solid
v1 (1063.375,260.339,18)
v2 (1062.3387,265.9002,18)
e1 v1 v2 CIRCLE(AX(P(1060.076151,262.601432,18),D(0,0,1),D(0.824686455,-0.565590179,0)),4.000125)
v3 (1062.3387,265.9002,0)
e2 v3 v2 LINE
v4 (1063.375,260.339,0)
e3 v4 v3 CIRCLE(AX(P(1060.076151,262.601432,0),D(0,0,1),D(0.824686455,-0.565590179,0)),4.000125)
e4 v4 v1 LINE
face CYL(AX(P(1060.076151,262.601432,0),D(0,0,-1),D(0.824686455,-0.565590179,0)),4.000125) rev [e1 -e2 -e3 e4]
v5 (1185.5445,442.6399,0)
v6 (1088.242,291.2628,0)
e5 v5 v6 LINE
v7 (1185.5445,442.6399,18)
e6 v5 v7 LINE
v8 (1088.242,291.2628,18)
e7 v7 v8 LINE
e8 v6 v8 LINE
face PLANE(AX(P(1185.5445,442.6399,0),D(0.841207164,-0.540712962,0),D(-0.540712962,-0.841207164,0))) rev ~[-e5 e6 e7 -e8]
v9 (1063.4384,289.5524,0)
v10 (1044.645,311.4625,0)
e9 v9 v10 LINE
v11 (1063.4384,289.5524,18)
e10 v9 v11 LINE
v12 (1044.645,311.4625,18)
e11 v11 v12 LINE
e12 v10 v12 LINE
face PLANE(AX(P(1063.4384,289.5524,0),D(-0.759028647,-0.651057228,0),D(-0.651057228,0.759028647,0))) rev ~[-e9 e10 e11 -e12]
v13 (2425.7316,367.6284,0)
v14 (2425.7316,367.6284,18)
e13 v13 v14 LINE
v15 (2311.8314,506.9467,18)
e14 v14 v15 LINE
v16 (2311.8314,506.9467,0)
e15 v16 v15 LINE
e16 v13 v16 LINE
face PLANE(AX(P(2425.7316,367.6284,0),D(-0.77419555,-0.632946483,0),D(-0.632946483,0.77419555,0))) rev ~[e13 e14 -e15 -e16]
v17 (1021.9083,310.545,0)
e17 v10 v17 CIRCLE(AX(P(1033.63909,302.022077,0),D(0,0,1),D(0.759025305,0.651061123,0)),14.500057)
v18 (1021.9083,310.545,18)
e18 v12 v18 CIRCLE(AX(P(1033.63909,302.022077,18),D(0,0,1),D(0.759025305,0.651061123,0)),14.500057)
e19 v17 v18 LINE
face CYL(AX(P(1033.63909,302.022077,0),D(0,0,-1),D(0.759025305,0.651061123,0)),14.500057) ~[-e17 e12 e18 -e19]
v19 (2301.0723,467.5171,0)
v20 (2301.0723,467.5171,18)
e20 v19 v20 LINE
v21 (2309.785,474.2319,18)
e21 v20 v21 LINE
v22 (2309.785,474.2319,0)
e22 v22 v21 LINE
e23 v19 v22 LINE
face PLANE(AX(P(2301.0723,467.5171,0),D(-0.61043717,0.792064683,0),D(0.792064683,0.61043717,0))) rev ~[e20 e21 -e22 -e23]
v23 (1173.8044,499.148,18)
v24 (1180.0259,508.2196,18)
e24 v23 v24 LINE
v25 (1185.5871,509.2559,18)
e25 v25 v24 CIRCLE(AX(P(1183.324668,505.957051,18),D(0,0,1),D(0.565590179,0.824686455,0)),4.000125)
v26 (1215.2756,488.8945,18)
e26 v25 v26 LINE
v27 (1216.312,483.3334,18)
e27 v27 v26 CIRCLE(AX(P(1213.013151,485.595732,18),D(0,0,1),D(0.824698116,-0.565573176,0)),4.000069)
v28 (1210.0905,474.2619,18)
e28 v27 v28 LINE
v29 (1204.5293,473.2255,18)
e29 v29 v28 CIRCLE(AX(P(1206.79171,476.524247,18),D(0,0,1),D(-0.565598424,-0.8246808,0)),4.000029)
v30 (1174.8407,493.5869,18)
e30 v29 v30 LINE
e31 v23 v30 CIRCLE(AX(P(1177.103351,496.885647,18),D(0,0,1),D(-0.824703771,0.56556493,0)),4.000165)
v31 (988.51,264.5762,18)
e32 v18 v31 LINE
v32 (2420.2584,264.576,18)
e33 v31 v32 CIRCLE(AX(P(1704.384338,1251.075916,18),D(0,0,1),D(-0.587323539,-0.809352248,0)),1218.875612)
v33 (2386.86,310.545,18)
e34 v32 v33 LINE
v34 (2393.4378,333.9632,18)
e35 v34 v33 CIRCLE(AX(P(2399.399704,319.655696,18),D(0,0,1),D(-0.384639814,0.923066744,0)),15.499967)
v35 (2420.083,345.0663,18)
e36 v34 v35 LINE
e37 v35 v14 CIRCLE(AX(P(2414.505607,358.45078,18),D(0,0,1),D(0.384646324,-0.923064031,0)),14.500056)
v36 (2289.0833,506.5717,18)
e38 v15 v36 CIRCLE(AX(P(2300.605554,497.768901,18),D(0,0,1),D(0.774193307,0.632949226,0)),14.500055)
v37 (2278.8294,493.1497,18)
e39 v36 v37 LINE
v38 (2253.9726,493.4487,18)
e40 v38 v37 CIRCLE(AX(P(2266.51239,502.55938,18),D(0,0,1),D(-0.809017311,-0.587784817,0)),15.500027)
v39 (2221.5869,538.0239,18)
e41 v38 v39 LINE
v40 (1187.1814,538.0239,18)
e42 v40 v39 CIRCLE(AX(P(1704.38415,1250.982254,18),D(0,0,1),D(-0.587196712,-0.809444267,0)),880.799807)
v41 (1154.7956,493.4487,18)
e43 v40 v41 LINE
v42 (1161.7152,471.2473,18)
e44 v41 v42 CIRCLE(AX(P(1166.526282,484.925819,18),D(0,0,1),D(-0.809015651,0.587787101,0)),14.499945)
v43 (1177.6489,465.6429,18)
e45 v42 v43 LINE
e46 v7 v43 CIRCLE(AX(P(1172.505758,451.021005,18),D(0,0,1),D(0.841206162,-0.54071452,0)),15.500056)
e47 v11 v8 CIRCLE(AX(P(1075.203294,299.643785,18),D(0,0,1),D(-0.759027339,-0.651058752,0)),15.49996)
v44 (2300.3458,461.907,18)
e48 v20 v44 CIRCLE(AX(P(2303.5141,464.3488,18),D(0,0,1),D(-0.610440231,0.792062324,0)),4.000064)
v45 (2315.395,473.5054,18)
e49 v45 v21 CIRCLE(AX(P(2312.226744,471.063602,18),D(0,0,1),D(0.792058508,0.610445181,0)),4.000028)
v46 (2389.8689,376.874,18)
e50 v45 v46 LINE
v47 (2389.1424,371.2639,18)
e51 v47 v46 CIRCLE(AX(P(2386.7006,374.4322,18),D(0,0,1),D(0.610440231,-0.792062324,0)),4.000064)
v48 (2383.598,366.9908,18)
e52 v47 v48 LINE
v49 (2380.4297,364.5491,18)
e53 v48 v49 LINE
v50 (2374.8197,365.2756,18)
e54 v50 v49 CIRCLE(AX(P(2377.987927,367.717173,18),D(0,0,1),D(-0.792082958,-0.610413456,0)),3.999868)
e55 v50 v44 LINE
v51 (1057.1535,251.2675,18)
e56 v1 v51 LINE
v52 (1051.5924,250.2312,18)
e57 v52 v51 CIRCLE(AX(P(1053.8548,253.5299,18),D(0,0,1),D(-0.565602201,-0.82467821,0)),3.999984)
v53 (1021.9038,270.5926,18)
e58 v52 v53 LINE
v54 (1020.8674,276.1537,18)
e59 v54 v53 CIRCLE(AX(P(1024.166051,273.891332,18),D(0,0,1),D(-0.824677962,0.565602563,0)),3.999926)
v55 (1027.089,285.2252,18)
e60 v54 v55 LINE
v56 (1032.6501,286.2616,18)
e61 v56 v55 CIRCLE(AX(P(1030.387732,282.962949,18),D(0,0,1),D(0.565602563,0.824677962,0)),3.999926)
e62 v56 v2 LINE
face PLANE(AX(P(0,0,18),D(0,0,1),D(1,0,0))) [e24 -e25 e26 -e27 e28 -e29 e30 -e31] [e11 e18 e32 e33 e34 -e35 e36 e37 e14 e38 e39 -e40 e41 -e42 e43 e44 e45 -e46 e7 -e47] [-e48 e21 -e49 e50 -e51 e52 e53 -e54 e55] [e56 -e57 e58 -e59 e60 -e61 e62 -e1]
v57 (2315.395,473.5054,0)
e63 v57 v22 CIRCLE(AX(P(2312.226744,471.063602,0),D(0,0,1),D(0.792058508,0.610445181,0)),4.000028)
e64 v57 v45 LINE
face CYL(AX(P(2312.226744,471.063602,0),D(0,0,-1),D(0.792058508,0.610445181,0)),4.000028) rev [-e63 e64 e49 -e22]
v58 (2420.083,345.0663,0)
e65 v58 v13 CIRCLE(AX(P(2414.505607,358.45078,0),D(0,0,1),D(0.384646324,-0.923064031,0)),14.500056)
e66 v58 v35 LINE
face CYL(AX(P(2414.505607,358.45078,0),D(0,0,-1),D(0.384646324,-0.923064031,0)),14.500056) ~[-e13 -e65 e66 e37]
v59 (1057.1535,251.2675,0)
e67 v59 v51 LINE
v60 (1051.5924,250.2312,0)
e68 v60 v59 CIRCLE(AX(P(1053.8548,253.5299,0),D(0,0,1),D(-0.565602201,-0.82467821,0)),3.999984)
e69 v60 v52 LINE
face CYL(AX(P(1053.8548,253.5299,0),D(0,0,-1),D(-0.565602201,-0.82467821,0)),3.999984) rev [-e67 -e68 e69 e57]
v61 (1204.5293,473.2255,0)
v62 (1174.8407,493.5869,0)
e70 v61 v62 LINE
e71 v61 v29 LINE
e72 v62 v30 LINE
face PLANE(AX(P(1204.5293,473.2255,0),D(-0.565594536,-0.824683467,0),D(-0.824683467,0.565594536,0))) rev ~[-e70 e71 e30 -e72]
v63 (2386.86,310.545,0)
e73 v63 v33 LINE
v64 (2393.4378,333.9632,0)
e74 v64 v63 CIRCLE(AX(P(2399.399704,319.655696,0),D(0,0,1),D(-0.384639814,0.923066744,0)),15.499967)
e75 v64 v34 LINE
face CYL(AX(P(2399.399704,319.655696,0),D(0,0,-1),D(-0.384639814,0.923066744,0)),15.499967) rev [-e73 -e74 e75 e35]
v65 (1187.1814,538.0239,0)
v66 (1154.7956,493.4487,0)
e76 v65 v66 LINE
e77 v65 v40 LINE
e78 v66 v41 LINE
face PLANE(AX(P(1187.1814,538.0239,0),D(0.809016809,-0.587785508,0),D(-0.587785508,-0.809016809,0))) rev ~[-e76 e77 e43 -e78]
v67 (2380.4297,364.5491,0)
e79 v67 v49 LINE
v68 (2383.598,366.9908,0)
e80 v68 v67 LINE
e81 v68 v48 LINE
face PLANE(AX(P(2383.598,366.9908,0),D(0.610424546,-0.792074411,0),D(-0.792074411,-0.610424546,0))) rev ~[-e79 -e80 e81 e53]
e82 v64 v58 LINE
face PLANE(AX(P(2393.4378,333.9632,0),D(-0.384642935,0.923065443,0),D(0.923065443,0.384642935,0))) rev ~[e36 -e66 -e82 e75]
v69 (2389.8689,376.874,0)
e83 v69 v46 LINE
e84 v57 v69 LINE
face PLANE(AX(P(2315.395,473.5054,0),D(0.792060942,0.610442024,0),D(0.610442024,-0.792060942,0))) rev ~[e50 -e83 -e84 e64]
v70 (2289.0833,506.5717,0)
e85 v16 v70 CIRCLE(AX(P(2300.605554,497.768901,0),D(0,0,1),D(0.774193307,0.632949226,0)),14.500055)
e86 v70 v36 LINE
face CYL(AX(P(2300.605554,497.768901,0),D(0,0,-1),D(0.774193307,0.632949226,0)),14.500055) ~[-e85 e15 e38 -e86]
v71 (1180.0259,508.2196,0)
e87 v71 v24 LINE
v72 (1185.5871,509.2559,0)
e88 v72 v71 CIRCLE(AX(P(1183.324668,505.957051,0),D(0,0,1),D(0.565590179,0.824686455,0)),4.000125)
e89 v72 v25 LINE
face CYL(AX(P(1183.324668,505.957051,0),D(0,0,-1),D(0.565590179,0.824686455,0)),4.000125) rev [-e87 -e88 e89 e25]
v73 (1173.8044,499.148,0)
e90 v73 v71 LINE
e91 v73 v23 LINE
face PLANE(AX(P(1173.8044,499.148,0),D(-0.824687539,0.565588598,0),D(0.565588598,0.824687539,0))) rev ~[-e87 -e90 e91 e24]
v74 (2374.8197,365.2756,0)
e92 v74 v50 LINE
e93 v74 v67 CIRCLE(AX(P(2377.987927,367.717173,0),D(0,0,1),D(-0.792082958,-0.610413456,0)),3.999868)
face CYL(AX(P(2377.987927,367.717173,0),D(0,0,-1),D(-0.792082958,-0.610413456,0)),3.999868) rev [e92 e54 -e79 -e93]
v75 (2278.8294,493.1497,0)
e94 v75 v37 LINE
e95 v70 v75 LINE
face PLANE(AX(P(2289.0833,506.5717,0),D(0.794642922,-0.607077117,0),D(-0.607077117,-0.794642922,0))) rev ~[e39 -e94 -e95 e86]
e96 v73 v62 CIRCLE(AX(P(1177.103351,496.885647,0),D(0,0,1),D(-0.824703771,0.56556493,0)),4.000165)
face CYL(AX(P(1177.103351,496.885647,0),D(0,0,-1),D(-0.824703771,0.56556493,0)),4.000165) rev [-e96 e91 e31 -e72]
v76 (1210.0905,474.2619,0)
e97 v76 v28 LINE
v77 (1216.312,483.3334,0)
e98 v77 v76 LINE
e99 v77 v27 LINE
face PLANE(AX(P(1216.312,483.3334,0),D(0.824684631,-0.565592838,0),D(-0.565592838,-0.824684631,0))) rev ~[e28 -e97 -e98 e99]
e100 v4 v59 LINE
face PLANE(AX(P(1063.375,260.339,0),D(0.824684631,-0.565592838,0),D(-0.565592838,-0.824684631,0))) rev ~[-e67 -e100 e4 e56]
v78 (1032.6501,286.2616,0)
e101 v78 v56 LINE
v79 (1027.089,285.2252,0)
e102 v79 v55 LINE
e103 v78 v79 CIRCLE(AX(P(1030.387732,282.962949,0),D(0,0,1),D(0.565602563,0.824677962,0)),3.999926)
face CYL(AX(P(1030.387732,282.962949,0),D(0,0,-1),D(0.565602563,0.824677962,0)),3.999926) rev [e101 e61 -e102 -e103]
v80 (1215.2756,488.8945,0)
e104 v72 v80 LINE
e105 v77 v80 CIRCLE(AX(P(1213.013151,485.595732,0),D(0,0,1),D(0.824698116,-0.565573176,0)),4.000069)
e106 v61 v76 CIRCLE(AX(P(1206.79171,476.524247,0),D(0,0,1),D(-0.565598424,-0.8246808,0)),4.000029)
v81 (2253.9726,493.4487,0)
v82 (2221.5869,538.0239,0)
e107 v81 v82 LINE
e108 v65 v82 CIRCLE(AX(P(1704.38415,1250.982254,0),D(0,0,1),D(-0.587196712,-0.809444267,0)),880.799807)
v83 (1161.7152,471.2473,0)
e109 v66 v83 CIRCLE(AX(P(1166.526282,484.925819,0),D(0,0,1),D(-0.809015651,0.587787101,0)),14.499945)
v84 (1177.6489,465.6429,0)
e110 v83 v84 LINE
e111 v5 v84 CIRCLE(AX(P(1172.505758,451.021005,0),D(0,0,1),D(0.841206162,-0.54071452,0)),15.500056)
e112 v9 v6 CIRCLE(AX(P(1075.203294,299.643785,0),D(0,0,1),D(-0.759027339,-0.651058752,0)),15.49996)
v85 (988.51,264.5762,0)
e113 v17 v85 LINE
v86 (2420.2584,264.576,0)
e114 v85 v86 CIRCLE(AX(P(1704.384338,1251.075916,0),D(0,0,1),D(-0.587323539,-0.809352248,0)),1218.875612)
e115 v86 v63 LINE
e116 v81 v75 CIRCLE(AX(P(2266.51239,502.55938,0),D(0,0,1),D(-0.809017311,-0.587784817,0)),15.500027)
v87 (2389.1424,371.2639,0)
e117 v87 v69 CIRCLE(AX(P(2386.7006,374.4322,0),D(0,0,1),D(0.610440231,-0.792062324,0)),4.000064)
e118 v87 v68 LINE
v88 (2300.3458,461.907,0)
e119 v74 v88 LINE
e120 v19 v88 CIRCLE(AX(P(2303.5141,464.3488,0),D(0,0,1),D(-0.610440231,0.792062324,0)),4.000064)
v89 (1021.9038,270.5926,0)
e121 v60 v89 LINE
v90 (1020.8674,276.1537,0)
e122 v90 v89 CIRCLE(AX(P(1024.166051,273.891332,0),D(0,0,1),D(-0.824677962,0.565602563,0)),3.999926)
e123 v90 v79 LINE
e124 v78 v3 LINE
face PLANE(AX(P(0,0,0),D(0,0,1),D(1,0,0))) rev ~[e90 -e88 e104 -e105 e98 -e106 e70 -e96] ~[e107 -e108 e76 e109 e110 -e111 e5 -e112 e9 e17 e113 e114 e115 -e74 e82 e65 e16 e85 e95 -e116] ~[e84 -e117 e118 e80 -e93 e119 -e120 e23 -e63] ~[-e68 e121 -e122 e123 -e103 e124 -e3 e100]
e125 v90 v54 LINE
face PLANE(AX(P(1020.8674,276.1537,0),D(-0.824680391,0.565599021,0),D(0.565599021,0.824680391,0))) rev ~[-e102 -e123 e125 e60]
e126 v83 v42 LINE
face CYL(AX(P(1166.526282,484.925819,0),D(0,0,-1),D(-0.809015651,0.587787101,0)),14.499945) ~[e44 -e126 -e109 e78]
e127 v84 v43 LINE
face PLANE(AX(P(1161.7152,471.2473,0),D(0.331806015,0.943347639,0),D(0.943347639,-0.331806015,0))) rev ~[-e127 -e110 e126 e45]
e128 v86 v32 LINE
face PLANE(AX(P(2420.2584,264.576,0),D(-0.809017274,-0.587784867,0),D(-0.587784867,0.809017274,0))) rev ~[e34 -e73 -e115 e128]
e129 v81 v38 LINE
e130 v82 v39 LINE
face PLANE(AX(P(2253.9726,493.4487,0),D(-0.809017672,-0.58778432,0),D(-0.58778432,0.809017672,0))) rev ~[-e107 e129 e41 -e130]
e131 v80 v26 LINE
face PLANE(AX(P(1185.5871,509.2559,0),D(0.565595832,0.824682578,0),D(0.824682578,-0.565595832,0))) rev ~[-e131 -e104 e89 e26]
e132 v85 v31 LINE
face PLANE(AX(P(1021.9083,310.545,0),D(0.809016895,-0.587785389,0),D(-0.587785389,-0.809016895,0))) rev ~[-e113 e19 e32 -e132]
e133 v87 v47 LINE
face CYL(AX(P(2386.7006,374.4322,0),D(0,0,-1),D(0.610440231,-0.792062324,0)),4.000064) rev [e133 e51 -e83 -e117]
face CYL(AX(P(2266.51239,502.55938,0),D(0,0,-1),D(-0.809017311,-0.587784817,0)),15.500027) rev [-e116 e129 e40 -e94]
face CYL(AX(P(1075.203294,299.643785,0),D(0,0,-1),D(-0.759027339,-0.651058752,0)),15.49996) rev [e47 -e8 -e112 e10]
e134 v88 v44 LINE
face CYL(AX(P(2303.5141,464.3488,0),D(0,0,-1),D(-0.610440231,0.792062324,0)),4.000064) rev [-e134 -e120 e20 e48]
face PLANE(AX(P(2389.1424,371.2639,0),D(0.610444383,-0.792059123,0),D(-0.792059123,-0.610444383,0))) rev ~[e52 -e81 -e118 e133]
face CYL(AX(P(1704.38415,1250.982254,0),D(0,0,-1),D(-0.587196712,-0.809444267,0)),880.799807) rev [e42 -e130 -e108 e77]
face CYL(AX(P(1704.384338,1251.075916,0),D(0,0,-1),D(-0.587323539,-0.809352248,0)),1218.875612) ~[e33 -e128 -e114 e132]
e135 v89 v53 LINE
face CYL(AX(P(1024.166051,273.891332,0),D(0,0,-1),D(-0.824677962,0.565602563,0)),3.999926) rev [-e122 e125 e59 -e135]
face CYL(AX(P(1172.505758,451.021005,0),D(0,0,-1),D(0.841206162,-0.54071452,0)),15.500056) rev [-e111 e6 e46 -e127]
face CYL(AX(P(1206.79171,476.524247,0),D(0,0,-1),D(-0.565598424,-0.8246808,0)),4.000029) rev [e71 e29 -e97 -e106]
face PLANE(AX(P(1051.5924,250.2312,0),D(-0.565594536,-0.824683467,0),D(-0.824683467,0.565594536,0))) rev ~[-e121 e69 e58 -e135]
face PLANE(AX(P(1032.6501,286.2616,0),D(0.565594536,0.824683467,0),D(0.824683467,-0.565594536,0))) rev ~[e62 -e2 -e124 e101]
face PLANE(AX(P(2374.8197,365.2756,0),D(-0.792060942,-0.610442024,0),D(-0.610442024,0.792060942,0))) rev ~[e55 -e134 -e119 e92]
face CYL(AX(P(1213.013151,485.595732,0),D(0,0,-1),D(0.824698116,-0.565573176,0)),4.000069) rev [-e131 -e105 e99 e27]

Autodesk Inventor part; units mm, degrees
ref_plane "YZ Plane" through (0, 0, 0) normal (1, 0, 0) x (0, 1, 0)
ref_plane "XZ Plane" through (0, 0, 0) normal (0, 1, 0) x (-1, 0, 0)
ref_plane "XY Plane" through (0, 0, 0) normal (0, 0, 1) x (1, 0, 0)
sketch "CONTOURS" plane through (0, 0, 0) normal (0, 0, 1) x (1, 0, 0)
  line L0 (1187.1814, 538.0239) -> (1154.7956, 493.4487)
  arc A0 (1154.7956, 493.4487) -> (1161.7152, 471.2473) centre (1166.5264, 484.9258) ccw
  line L1 (1161.7152, 471.2473) -> (1177.6489, 465.6429)
  arc A1 (1185.5445, 442.6399) -> (1177.6489, 465.6429) centre (1172.5058, 451.021) ccw
  line L2 (1185.5445, 442.6399) -> (1088.242, 291.2628)
  arc A2 (1063.4384, 289.5524) -> (1088.242, 291.2628) centre (1075.2033, 299.6438) ccw
  line L3 (1063.4384, 289.5524) -> (1044.645, 311.4625)
  arc A3 (1044.645, 311.4625) -> (1021.9083, 310.545) centre (1033.6391, 302.0221) ccw
  line L4 (1021.9083, 310.545) -> (988.51, 264.5762)
  arc A4 (988.51, 264.5762) -> (2420.2584, 264.576) centre (1704.3843, 1251.0758) ccw
  line L5 (2420.2584, 264.576) -> (2386.86, 310.545)
  arc A5 (2393.4378, 333.9632) -> (2386.86, 310.545) centre (2399.3997, 319.6557) ccw
  line L6 (2393.4378, 333.9632) -> (2420.083, 345.0663)
  arc A6 (2420.083, 345.0663) -> (2425.7316, 367.6284) centre (2414.5057, 358.4507) ccw
  line L7 (2425.7316, 367.6284) -> (2311.8314, 506.9467)
  arc A7 (2311.8314, 506.9467) -> (2289.0833, 506.5717) centre (2300.6056, 497.769) ccw
  line L8 (2289.0833, 506.5717) -> (2278.8294, 493.1497)
  arc A8 (2253.9726, 493.4487) -> (2278.8294, 493.1497) centre (2266.5124, 502.5594) ccw
  line L9 (2253.9726, 493.4487) -> (2221.5869, 538.0239)
  arc A9 (1187.1814, 538.0239) -> (2221.5869, 538.0239) centre (1704.3841, 1250.9821) ccw
sketch "HOLES" plane through (0, 0, 0) normal (0, 0, 1) x (1, 0, 0)
  arc A0 (1185.5871, 509.2559) -> (1180.0259, 508.2196) centre (1183.3247, 505.9572) ccw
  line L0 (1185.5871, 509.2559) -> (1215.2756, 488.8945)
  arc A1 (1216.312, 483.3334) -> (1215.2756, 488.8945) centre (1213.0133, 485.5957) ccw
  line L1 (1216.312, 483.3334) -> (1210.0905, 474.2619)
  arc A2 (1204.5293, 473.2255) -> (1210.0905, 474.2619) centre (1206.7917, 476.5242) ccw
  line L2 (1204.5293, 473.2255) -> (1174.8407, 493.5869)
  arc A3 (1173.8044, 499.148) -> (1174.8407, 493.5869) centre (1177.1031, 496.8857) ccw
  line L3 (2383.598, 366.9908) -> (2380.4297, 364.5491)
  arc A4 (2374.8197, 365.2756) -> (2380.4297, 364.5491) centre (2377.988, 367.7173) ccw
  line L4 (2374.8197, 365.2756) -> (2300.3458, 461.907)
  arc A5 (2301.0723, 467.5171) -> (2300.3458, 461.907) centre (2303.5141, 464.3488) ccw
  line L5 (2301.0723, 467.5171) -> (2309.785, 474.2319)
  arc A6 (2315.395, 473.5054) -> (2309.785, 474.2319) centre (2312.2268, 471.0637) ccw
  line L6 (2315.395, 473.5054) -> (2389.8689, 376.874)
  arc A7 (2389.1424, 371.2639) -> (2389.8689, 376.874) centre (2386.7006, 374.4322) ccw
  line L7 (2389.1424, 371.2639) -> (2383.598, 366.9908)
  line L8 (1063.375, 260.339) -> (1057.1535, 251.2675)
  arc A8 (1051.5924, 250.2312) -> (1057.1535, 251.2675) centre (1053.8548, 253.5299) ccw
  line L9 (1051.5924, 250.2312) -> (1021.9038, 270.5926)
  arc A9 (1020.8674, 276.1537) -> (1021.9038, 270.5926) centre (1024.1662, 273.8913) ccw
  line L10 (1020.8674, 276.1537) -> (1027.089, 285.2252)
  arc A10 (1032.6501, 286.2616) -> (1027.089, 285.2252) centre (1030.3877, 282.9628) ccw
  line L11 (1032.6501, 286.2616) -> (1062.3387, 265.9002)
  arc A11 (1063.375, 260.339) -> (1062.3387, 265.9002) centre (1060.0763, 262.6014) ccw
  line L12 (1173.8044, 499.148) -> (1180.0259, 508.2196)
sketch "LETTERS" plane through (0, 0, 0) normal (0, 0, 1) x (1, 0, 0)
  line L0 (1208.7696, 324.759) -> (1209.0033, 324.7372)
  line L1 (1209.0033, 324.7372) -> (1209.2368, 324.7098)
  line L2 (1209.2368, 324.7098) -> (1209.4699, 324.6767)
  line L3 (1209.4699, 324.6767) -> (1209.7026, 324.638)
  line L4 (1209.7026, 324.638) -> (1209.9347, 324.5939)
  line L5 (1209.9347, 324.5939) -> (1210.166, 324.5444)
  line L6 (1210.166, 324.5444) -> (1210.3965, 324.4896)
  line L7 (1210.3965, 324.4896) -> (1210.6261, 324.4296)
  line L8 (1210.6261, 324.4296) -> (1210.8547, 324.3644)
  line L9 (1210.8547, 324.3644) -> (1211.082, 324.294)
  line L10 (1211.082, 324.294) -> (1211.3081, 324.2187)
  line L11 (1211.3081, 324.2187) -> (1211.5327, 324.1384)
  line L12 (1211.5327, 324.1384) -> (1211.7559, 324.0533)
  line L13 (1211.7559, 324.0533) -> (1211.9774, 323.9634)
  line L14 (1211.9774, 323.9634) -> (1212.1971, 323.8687)
  line L15 (1212.1971, 323.8687) -> (1212.415, 323.7694)
  line L16 (1212.415, 323.7694) -> (1212.6308, 323.6655)
  line L17 (1212.6308, 323.6655) -> (1212.8446, 323.5572)
  line L18 (1212.8446, 323.5572) -> (1213.0562, 323.4444)
  line L19 (1213.0562, 323.4444) -> (1213.2655, 323.3273)
  line L20 (1213.2655, 323.3273) -> (1213.4724, 323.2058)
  line L21 (1213.4724, 323.2058) -> (1213.6769, 323.0802)
  line L22 (1213.6769, 323.0802) -> (1213.8789, 322.9504)
  line L23 (1213.8789, 322.9504) -> (1214.0783, 322.8166)
  line L24 (1214.0783, 322.8166) -> (1214.275, 322.6787)
  line L25 (1214.275, 322.6787) -> (1214.469, 322.5369)
  line L26 (1214.469, 322.5369) -> (1214.6601, 322.3913)
  line L27 (1214.6601, 322.3913) -> (1214.8483, 322.2419)
  line L28 (1214.8483, 322.2419) -> (1215.0335, 322.0887)
  line L29 (1215.0335, 322.0887) -> (1215.2156, 321.9319)
  line L30 (1215.2156, 321.9319) -> (1215.3946, 321.7715)
  line L31 (1215.3946, 321.7715) -> (1215.5703, 321.6076)
  line L32 (1215.5703, 321.6076) -> (1215.7426, 321.4402)
  line L33 (1215.7426, 321.4402) -> (1215.9116, 321.2695)
  line L34 (1215.9116, 321.2695) -> (1216.0771, 321.0955)
  line L35 (1216.0771, 321.0955) -> (1216.2389, 320.9182)
  line L36 (1216.2389, 320.9182) -> (1216.3972, 320.7378)
  line L37 (1216.3972, 320.7378) -> (1216.5517, 320.5543)
  line L38 (1216.5517, 320.5543) -> (1216.7024, 320.3678)
  line L39 (1216.7024, 320.3678) -> (1216.8491, 320.1783)
  line L40 (1216.8491, 320.1783) -> (1216.9919, 319.9859)
  line L41 (1216.9919, 319.9859) -> (1217.1307, 319.7908)
  line L42 (1217.1307, 319.7908) -> (1217.2653, 319.5929)
  line L43 (1217.2653, 319.5929) -> (1217.3956, 319.3923)
  line L44 (1217.3956, 319.3923) -> (1217.5217, 319.1891)
  line L45 (1217.5217, 319.1891) -> (1217.6434, 318.9834)
  line L46 (1217.6434, 318.9834) -> (1217.7606, 318.7752)
  line L47 (1217.7606, 318.7752) -> (1217.8733, 318.5647)
  line L48 (1217.8733, 318.5647) -> (1217.9813, 318.3518)
  line L49 (1217.9813, 318.3518) -> (1218.0846, 318.1367)
  line L50 (1218.0846, 318.1367) -> (1218.1832, 317.9195)
  line L51 (1218.1832, 317.9195) -> (1218.2769, 317.7002)
  line L52 (1218.2769, 317.7002) -> (1218.3657, 317.4791)
  line L53 (1218.3657, 317.4791) -> (1218.4496, 317.2562)
  line L54 (1218.4496, 317.2562) -> (1218.5286, 317.0317)
  line L55 (1218.5286, 317.0317) -> (1218.6024, 316.8056)
  line L56 (1218.6024, 316.8056) -> (1218.6712, 316.5781)
  line L57 (1218.6712, 316.5781) -> (1218.7348, 316.3494)
  line L58 (1218.7348, 316.3494) -> (1218.7932, 316.1195)
  line L59 (1218.7932, 316.1195) -> (1218.8464, 315.8885)
  line L60 (1218.8464, 315.8885) -> (1218.8942, 315.6566)
  line L61 (1218.8942, 315.6566) -> (1218.9366, 315.424)
  line L62 (1218.9366, 315.424) -> (1218.9736, 315.1906)
  line L63 (1218.9736, 315.1906) -> (1219.0051, 314.9567)
  line L64 (1219.0051, 314.9567) -> (1219.031, 314.7224)
  line L65 (1219.031, 314.7224) -> (1219.0514, 314.4877)
  line L66 (1219.0514, 314.4877) -> (1219.0661, 314.2529)
  line L67 (1219.0661, 314.2529) -> (1219.0751, 314.0179)
  line L68 (1219.0751, 314.0179) -> (1219.0783, 313.783)
  line L69 (1219.0783, 313.783) -> (1219.0757, 313.5483)
  line L70 (1219.0757, 313.5483) -> (1219.0672, 313.3139)
  line L71 (1219.0672, 313.3139) -> (1219.0528, 313.0799)
  line L72 (1219.0528, 313.0799) -> (1219.0324, 312.8464)
  line L73 (1219.0324, 312.8464) -> (1219.0059, 312.6136)
  line L74 (1219.0059, 312.6136) -> (1218.9733, 312.3815)
  line L75 (1218.9733, 312.3815) -> (1218.9346, 312.1503)
  line L76 (1218.9346, 312.1503) -> (1218.8897, 311.9202)
  line L77 (1218.8897, 311.9202) -> (1218.8385, 311.6911)
  line L78 (1218.8385, 311.6911) -> (1218.7809, 311.4634)
  line L79 (1218.7809, 311.4634) -> (1218.717, 311.237)
  line L80 (1218.717, 311.237) -> (1218.6466, 311.0121)
  line L81 (1218.6466, 311.0121) -> (1218.5698, 310.7888)
  line L82 (1218.5698, 310.7888) -> (1218.4866, 310.5673)
  line L83 (1218.4866, 310.5673) -> (1218.3972, 310.3477)
  line L84 (1218.3972, 310.3477) -> (1218.3016, 310.1302)
  line L85 (1218.3016, 310.1302) -> (1218.2, 309.9149)
  line L86 (1218.2, 309.9149) -> (1218.0925, 309.7021)
  line L87 (1218.0925, 309.7021) -> (1217.9793, 309.4917)
  line L88 (1217.9793, 309.4917) -> (1217.8604, 309.2841)
  line L89 (1217.8604, 309.2841) -> (1217.7359, 309.0793)
  line L90 (1217.7359, 309.0793) -> (1217.6061, 308.8776)
  line L91 (1217.6061, 308.8776) -> (1217.471, 308.679)
  line L92 (1217.471, 308.679) -> (1217.3307, 308.4837)
  line L93 (1217.3307, 308.4837) -> (1217.1853, 308.2919)
  line L94 (1217.1853, 308.2919) -> (1217.035, 308.1038)
  line L95 (1217.035, 308.1038) -> (1216.8799, 307.9194)
  line L96 (1216.8799, 307.9194) -> (1216.7202, 307.739)
  line L97 (1216.7202, 307.739) -> (1216.5558, 307.5626)
  line L98 (1216.5558, 307.5626) -> (1216.3871, 307.3906)
  line L99 (1216.3871, 307.3906) -> (1216.214, 307.2229)
  line L100 (1216.214, 307.2229) -> (1216.0366, 307.0598)
  line L101 (1216.0366, 307.0598) -> (1215.8552, 306.9014)
  line L102 (1215.8552, 306.9014) -> (1215.6699, 306.7478)
  line L103 (1215.6699, 306.7478) -> (1215.4807, 306.5993)
  line L104 (1215.4807, 306.5993) -> (1215.2878, 306.456)
  line L105 (1215.2878, 306.456) -> (1215.0912, 306.318)
  line L106 (1215.0912, 306.318) -> (1214.8912, 306.1855)
  line L107 (1214.8912, 306.1855) -> (1214.6878, 306.0587)
  line L108 (1214.6878, 306.0587) -> (1214.4812, 305.9377)
  line L109 (1214.4812, 305.9377) -> (1214.2715, 305.8226)
  line L110 (1214.2715, 305.8226) -> (1214.0588, 305.7136)
  line L111 (1214.0588, 305.7136) -> (1213.8431, 305.6109)
  line L112 (1213.8431, 305.6109) -> (1213.6248, 305.5146)
  line L113 (1213.6248, 305.5146) -> (1213.4038, 305.4249)
  line L114 (1213.4038, 305.4249) -> (1213.1803, 305.3417)
  line L115 (1213.1803, 305.3417) -> (1212.9546, 305.2653)
  line L116 (1212.9546, 305.2653) -> (1212.7269, 305.1955)
  line L117 (1212.7269, 305.1955) -> (1212.4974, 305.1324)
  line L118 (1212.4974, 305.1324) -> (1212.2662, 305.0761)
  line L119 (1212.2662, 305.0761) -> (1212.0336, 305.0266)
  line L120 (1212.0336, 305.0266) -> (1211.7997, 304.984)
  line L121 (1211.7997, 304.984) -> (1211.5648, 304.9482)
  line L122 (1211.5648, 304.9482) -> (1211.3291, 304.9193)
  line L123 (1211.3291, 304.9193) -> (1211.0928, 304.8974)
  line L124 (1211.0928, 304.8974) -> (1210.856, 304.8825)
  line L125 (1210.856, 304.8825) -> (1210.6191, 304.8745)
  line L126 (1210.6191, 304.8745) -> (1210.382, 304.8736)
  line L127 (1210.382, 304.8736) -> (1210.1452, 304.8798)
  line L128 (1210.1452, 304.8798) -> (1209.9088, 304.8931)
  line L129 (1209.9088, 304.8931) -> (1209.6729, 304.9136)
  line L130 (1209.6729, 304.9136) -> (1209.4378, 304.9413)
  line L131 (1209.4378, 304.9413) -> (1209.2037, 304.9762)
  line L132 (1209.2037, 304.9762) -> (1208.9708, 305.0183)
  line L133 (1208.9708, 305.0183) -> (1208.7392, 305.0678)
  line L134 (1208.7392, 305.0678) -> (1208.5093, 305.1246)
  line L135 (1208.5093, 305.1246) -> (1208.2811, 305.1888)
  line L136 (1208.2811, 305.1888) -> (1208.0549, 305.2604)
  line L137 (1208.0549, 305.2604) -> (1207.831, 305.3394)
  line L138 (1207.831, 305.3394) -> (1207.6094, 305.4259)
  line L139 (1207.6094, 305.4259) -> (1207.3904, 305.52)
  line L140 (1207.3904, 305.52) -> (1207.1741, 305.6215)
  line L141 (1207.1741, 305.6215) -> (1206.9609, 305.7306)
  line L142 (1206.9609, 305.7306) -> (1206.7508, 305.8474)
  line L143 (1206.7508, 305.8474) -> (1206.5442, 305.9718)
  line L144 (1206.5442, 305.9718) -> (1206.4422, 306.0369)
  line L145 (1206.4422, 306.0369) -> (1206.3411, 306.1039)
  line L146 (1200.6132, 311.8395) -> (1200.4954, 312.0474)
  line L147 (1200.4954, 312.0474) -> (1200.3834, 312.2585)
  line L148 (1200.3834, 312.2585) -> (1200.2774, 312.4725)
  line L149 (1200.2774, 312.4725) -> (1200.1773, 312.6893)
  line L150 (1200.1773, 312.6893) -> (1200.0833, 312.9088)
  line L151 (1200.0833, 312.9088) -> (1199.9953, 313.1306)
  line L152 (1199.9953, 313.1306) -> (1199.9133, 313.3547)
  line L153 (1199.9133, 313.3547) -> (1199.8375, 313.5809)
  line L154 (1199.8375, 313.5809) -> (1199.7678, 313.809)
  line L155 (1199.7678, 313.809) -> (1199.7043, 314.0389)
  line L156 (1199.7043, 314.0389) -> (1199.647, 314.2703)
  line L157 (1199.647, 314.2703) -> (1199.596, 314.5031)
  line L158 (1199.596, 314.5031) -> (1199.5512, 314.7371)
  line L159 (1199.5512, 314.7371) -> (1199.5127, 314.9721)
  line L160 (1199.5127, 314.9721) -> (1199.4806, 315.208)
  line L161 (1199.4806, 315.208) -> (1199.4549, 315.4446)
  line L162 (1199.4549, 315.4446) -> (1199.4356, 315.6817)
  line L163 (1199.4356, 315.6817) -> (1199.4228, 315.9191)
  line L164 (1199.4228, 315.9191) -> (1199.4164, 316.1567)
  line L165 (1199.4164, 316.1567) -> (1199.4166, 316.3943)
  line L166 (1199.4166, 316.3943) -> (1199.4234, 316.6317)
  line L167 (1199.4234, 316.6317) -> (1199.4367, 316.8687)
  line L168 (1199.4367, 316.8687) -> (1199.4567, 317.1052)
  line L169 (1199.4567, 317.1052) -> (1199.4833, 317.341)
  line L170 (1199.4833, 317.341) -> (1199.5167, 317.5759)
  line L171 (1199.5167, 317.5759) -> (1199.5568, 317.8098)
  line L172 (1199.5568, 317.8098) -> (1199.6036, 318.0424)
  line L173 (1199.6036, 318.0424) -> (1199.6573, 318.2736)
  line L174 (1199.6573, 318.2736) -> (1199.7178, 318.5032)
  line L175 (1199.7178, 318.5032) -> (1199.7852, 318.731)
  line L176 (1199.7852, 318.731) -> (1199.8595, 318.9569)
  line L177 (1199.8595, 318.9569) -> (1199.9408, 319.1808)
  line L178 (1199.9408, 319.1808) -> (1200.029, 319.4023)
  line L179 (1200.029, 319.4023) -> (1200.124, 319.6214)
  line L180 (1200.124, 319.6214) -> (1200.2257, 319.8379)
  line L181 (1200.2257, 319.8379) -> (1200.3338, 320.0517)
  line L182 (1200.3338, 320.0517) -> (1200.4483, 320.2627)
  line L183 (1200.4483, 320.2627) -> (1200.5689, 320.4706)
  line L184 (1200.5689, 320.4706) -> (1200.6955, 320.6754)
  line L185 (1200.6955, 320.6754) -> (1200.8279, 320.8769)
  line L186 (1200.8279, 320.8769) -> (1200.966, 321.075)
  line L187 (1200.966, 321.075) -> (1201.1095, 321.2695)
  line L188 (1201.1095, 321.2695) -> (1201.2584, 321.4603)
  line L189 (1201.2584, 321.4603) -> (1201.4123, 321.6472)
  line L190 (1201.4123, 321.6472) -> (1201.5713, 321.8301)
  line L191 (1201.5713, 321.8301) -> (1201.7351, 322.0088)
  line L192 (1201.7351, 322.0088) -> (1201.9035, 322.1833)
  line L193 (1201.9035, 322.1833) -> (1202.0764, 322.3533)
  line L194 (1202.0764, 322.3533) -> (1202.2535, 322.5187)
  line L195 (1202.2535, 322.5187) -> (1202.4349, 322.6794)
  line L196 (1202.4349, 322.6794) -> (1202.6202, 322.8352)
  line L197 (1202.6202, 322.8352) -> (1202.8093, 322.986)
  line L198 (1202.8093, 322.986) -> (1203.002, 323.1317)
  line L199 (1203.002, 323.1317) -> (1203.1982, 323.272)
  line L200 (1203.1982, 323.272) -> (1203.3977, 323.4069)
  line L201 (1203.3977, 323.4069) -> (1203.6004, 323.5362)
  line L202 (1203.6004, 323.5362) -> (1203.806, 323.6598)
  line L203 (1203.806, 323.6598) -> (1204.0144, 323.7774)
  line L204 (1204.0144, 323.7774) -> (1204.2254, 323.8891)
  line L205 (1204.2254, 323.8891) -> (1204.4389, 323.9946)
  line L206 (1204.4389, 323.9946) -> (1204.6547, 324.0938)
  line L207 (1204.6547, 324.0938) -> (1204.8726, 324.1865)
  line L208 (1204.8726, 324.1865) -> (1205.0925, 324.2727)
  line L209 (1205.0925, 324.2727) -> (1205.3142, 324.352)
  line L210 (1205.3142, 324.352) -> (1205.5375, 324.4246)
  line L211 (1205.5375, 324.4246) -> (1205.7624, 324.4903)
  line L212 (1205.7624, 324.4903) -> (1205.9886, 324.5493)
  line L213 (1205.9886, 324.5493) -> (1206.2161, 324.6016)
  line L214 (1206.2161, 324.6016) -> (1206.4448, 324.6474)
  line L215 (1206.4448, 324.6474) -> (1206.6745, 324.6866)
  line L216 (1206.6745, 324.6866) -> (1206.9051, 324.7194)
  line L217 (1206.9051, 324.7194) -> (1207.1366, 324.7459)
  line L218 (1207.1366, 324.7459) -> (1207.3687, 324.766)
  line L219 (1208.5357, 324.775) -> (1208.7696, 324.759)
  line L220 (1207.6014, 324.7799) -> (1207.8346, 324.7877)
  line L221 (1207.8346, 324.7877) -> (1208.0681, 324.7895)
  line L222 (1208.0681, 324.7895) -> (1208.3019, 324.7852)
  line L223 (1208.3019, 324.7852) -> (1208.5357, 324.775)
  line L224 (1207.3687, 324.766) -> (1207.6014, 324.7799)
extrude "Extrusion2" add sketch "CONTOURS" along normal blind 18
extrude "Extrusion3" cut sketch "HOLES" along normal blind 18
properties part number "Platform C3" material "Wood (Birch)"
